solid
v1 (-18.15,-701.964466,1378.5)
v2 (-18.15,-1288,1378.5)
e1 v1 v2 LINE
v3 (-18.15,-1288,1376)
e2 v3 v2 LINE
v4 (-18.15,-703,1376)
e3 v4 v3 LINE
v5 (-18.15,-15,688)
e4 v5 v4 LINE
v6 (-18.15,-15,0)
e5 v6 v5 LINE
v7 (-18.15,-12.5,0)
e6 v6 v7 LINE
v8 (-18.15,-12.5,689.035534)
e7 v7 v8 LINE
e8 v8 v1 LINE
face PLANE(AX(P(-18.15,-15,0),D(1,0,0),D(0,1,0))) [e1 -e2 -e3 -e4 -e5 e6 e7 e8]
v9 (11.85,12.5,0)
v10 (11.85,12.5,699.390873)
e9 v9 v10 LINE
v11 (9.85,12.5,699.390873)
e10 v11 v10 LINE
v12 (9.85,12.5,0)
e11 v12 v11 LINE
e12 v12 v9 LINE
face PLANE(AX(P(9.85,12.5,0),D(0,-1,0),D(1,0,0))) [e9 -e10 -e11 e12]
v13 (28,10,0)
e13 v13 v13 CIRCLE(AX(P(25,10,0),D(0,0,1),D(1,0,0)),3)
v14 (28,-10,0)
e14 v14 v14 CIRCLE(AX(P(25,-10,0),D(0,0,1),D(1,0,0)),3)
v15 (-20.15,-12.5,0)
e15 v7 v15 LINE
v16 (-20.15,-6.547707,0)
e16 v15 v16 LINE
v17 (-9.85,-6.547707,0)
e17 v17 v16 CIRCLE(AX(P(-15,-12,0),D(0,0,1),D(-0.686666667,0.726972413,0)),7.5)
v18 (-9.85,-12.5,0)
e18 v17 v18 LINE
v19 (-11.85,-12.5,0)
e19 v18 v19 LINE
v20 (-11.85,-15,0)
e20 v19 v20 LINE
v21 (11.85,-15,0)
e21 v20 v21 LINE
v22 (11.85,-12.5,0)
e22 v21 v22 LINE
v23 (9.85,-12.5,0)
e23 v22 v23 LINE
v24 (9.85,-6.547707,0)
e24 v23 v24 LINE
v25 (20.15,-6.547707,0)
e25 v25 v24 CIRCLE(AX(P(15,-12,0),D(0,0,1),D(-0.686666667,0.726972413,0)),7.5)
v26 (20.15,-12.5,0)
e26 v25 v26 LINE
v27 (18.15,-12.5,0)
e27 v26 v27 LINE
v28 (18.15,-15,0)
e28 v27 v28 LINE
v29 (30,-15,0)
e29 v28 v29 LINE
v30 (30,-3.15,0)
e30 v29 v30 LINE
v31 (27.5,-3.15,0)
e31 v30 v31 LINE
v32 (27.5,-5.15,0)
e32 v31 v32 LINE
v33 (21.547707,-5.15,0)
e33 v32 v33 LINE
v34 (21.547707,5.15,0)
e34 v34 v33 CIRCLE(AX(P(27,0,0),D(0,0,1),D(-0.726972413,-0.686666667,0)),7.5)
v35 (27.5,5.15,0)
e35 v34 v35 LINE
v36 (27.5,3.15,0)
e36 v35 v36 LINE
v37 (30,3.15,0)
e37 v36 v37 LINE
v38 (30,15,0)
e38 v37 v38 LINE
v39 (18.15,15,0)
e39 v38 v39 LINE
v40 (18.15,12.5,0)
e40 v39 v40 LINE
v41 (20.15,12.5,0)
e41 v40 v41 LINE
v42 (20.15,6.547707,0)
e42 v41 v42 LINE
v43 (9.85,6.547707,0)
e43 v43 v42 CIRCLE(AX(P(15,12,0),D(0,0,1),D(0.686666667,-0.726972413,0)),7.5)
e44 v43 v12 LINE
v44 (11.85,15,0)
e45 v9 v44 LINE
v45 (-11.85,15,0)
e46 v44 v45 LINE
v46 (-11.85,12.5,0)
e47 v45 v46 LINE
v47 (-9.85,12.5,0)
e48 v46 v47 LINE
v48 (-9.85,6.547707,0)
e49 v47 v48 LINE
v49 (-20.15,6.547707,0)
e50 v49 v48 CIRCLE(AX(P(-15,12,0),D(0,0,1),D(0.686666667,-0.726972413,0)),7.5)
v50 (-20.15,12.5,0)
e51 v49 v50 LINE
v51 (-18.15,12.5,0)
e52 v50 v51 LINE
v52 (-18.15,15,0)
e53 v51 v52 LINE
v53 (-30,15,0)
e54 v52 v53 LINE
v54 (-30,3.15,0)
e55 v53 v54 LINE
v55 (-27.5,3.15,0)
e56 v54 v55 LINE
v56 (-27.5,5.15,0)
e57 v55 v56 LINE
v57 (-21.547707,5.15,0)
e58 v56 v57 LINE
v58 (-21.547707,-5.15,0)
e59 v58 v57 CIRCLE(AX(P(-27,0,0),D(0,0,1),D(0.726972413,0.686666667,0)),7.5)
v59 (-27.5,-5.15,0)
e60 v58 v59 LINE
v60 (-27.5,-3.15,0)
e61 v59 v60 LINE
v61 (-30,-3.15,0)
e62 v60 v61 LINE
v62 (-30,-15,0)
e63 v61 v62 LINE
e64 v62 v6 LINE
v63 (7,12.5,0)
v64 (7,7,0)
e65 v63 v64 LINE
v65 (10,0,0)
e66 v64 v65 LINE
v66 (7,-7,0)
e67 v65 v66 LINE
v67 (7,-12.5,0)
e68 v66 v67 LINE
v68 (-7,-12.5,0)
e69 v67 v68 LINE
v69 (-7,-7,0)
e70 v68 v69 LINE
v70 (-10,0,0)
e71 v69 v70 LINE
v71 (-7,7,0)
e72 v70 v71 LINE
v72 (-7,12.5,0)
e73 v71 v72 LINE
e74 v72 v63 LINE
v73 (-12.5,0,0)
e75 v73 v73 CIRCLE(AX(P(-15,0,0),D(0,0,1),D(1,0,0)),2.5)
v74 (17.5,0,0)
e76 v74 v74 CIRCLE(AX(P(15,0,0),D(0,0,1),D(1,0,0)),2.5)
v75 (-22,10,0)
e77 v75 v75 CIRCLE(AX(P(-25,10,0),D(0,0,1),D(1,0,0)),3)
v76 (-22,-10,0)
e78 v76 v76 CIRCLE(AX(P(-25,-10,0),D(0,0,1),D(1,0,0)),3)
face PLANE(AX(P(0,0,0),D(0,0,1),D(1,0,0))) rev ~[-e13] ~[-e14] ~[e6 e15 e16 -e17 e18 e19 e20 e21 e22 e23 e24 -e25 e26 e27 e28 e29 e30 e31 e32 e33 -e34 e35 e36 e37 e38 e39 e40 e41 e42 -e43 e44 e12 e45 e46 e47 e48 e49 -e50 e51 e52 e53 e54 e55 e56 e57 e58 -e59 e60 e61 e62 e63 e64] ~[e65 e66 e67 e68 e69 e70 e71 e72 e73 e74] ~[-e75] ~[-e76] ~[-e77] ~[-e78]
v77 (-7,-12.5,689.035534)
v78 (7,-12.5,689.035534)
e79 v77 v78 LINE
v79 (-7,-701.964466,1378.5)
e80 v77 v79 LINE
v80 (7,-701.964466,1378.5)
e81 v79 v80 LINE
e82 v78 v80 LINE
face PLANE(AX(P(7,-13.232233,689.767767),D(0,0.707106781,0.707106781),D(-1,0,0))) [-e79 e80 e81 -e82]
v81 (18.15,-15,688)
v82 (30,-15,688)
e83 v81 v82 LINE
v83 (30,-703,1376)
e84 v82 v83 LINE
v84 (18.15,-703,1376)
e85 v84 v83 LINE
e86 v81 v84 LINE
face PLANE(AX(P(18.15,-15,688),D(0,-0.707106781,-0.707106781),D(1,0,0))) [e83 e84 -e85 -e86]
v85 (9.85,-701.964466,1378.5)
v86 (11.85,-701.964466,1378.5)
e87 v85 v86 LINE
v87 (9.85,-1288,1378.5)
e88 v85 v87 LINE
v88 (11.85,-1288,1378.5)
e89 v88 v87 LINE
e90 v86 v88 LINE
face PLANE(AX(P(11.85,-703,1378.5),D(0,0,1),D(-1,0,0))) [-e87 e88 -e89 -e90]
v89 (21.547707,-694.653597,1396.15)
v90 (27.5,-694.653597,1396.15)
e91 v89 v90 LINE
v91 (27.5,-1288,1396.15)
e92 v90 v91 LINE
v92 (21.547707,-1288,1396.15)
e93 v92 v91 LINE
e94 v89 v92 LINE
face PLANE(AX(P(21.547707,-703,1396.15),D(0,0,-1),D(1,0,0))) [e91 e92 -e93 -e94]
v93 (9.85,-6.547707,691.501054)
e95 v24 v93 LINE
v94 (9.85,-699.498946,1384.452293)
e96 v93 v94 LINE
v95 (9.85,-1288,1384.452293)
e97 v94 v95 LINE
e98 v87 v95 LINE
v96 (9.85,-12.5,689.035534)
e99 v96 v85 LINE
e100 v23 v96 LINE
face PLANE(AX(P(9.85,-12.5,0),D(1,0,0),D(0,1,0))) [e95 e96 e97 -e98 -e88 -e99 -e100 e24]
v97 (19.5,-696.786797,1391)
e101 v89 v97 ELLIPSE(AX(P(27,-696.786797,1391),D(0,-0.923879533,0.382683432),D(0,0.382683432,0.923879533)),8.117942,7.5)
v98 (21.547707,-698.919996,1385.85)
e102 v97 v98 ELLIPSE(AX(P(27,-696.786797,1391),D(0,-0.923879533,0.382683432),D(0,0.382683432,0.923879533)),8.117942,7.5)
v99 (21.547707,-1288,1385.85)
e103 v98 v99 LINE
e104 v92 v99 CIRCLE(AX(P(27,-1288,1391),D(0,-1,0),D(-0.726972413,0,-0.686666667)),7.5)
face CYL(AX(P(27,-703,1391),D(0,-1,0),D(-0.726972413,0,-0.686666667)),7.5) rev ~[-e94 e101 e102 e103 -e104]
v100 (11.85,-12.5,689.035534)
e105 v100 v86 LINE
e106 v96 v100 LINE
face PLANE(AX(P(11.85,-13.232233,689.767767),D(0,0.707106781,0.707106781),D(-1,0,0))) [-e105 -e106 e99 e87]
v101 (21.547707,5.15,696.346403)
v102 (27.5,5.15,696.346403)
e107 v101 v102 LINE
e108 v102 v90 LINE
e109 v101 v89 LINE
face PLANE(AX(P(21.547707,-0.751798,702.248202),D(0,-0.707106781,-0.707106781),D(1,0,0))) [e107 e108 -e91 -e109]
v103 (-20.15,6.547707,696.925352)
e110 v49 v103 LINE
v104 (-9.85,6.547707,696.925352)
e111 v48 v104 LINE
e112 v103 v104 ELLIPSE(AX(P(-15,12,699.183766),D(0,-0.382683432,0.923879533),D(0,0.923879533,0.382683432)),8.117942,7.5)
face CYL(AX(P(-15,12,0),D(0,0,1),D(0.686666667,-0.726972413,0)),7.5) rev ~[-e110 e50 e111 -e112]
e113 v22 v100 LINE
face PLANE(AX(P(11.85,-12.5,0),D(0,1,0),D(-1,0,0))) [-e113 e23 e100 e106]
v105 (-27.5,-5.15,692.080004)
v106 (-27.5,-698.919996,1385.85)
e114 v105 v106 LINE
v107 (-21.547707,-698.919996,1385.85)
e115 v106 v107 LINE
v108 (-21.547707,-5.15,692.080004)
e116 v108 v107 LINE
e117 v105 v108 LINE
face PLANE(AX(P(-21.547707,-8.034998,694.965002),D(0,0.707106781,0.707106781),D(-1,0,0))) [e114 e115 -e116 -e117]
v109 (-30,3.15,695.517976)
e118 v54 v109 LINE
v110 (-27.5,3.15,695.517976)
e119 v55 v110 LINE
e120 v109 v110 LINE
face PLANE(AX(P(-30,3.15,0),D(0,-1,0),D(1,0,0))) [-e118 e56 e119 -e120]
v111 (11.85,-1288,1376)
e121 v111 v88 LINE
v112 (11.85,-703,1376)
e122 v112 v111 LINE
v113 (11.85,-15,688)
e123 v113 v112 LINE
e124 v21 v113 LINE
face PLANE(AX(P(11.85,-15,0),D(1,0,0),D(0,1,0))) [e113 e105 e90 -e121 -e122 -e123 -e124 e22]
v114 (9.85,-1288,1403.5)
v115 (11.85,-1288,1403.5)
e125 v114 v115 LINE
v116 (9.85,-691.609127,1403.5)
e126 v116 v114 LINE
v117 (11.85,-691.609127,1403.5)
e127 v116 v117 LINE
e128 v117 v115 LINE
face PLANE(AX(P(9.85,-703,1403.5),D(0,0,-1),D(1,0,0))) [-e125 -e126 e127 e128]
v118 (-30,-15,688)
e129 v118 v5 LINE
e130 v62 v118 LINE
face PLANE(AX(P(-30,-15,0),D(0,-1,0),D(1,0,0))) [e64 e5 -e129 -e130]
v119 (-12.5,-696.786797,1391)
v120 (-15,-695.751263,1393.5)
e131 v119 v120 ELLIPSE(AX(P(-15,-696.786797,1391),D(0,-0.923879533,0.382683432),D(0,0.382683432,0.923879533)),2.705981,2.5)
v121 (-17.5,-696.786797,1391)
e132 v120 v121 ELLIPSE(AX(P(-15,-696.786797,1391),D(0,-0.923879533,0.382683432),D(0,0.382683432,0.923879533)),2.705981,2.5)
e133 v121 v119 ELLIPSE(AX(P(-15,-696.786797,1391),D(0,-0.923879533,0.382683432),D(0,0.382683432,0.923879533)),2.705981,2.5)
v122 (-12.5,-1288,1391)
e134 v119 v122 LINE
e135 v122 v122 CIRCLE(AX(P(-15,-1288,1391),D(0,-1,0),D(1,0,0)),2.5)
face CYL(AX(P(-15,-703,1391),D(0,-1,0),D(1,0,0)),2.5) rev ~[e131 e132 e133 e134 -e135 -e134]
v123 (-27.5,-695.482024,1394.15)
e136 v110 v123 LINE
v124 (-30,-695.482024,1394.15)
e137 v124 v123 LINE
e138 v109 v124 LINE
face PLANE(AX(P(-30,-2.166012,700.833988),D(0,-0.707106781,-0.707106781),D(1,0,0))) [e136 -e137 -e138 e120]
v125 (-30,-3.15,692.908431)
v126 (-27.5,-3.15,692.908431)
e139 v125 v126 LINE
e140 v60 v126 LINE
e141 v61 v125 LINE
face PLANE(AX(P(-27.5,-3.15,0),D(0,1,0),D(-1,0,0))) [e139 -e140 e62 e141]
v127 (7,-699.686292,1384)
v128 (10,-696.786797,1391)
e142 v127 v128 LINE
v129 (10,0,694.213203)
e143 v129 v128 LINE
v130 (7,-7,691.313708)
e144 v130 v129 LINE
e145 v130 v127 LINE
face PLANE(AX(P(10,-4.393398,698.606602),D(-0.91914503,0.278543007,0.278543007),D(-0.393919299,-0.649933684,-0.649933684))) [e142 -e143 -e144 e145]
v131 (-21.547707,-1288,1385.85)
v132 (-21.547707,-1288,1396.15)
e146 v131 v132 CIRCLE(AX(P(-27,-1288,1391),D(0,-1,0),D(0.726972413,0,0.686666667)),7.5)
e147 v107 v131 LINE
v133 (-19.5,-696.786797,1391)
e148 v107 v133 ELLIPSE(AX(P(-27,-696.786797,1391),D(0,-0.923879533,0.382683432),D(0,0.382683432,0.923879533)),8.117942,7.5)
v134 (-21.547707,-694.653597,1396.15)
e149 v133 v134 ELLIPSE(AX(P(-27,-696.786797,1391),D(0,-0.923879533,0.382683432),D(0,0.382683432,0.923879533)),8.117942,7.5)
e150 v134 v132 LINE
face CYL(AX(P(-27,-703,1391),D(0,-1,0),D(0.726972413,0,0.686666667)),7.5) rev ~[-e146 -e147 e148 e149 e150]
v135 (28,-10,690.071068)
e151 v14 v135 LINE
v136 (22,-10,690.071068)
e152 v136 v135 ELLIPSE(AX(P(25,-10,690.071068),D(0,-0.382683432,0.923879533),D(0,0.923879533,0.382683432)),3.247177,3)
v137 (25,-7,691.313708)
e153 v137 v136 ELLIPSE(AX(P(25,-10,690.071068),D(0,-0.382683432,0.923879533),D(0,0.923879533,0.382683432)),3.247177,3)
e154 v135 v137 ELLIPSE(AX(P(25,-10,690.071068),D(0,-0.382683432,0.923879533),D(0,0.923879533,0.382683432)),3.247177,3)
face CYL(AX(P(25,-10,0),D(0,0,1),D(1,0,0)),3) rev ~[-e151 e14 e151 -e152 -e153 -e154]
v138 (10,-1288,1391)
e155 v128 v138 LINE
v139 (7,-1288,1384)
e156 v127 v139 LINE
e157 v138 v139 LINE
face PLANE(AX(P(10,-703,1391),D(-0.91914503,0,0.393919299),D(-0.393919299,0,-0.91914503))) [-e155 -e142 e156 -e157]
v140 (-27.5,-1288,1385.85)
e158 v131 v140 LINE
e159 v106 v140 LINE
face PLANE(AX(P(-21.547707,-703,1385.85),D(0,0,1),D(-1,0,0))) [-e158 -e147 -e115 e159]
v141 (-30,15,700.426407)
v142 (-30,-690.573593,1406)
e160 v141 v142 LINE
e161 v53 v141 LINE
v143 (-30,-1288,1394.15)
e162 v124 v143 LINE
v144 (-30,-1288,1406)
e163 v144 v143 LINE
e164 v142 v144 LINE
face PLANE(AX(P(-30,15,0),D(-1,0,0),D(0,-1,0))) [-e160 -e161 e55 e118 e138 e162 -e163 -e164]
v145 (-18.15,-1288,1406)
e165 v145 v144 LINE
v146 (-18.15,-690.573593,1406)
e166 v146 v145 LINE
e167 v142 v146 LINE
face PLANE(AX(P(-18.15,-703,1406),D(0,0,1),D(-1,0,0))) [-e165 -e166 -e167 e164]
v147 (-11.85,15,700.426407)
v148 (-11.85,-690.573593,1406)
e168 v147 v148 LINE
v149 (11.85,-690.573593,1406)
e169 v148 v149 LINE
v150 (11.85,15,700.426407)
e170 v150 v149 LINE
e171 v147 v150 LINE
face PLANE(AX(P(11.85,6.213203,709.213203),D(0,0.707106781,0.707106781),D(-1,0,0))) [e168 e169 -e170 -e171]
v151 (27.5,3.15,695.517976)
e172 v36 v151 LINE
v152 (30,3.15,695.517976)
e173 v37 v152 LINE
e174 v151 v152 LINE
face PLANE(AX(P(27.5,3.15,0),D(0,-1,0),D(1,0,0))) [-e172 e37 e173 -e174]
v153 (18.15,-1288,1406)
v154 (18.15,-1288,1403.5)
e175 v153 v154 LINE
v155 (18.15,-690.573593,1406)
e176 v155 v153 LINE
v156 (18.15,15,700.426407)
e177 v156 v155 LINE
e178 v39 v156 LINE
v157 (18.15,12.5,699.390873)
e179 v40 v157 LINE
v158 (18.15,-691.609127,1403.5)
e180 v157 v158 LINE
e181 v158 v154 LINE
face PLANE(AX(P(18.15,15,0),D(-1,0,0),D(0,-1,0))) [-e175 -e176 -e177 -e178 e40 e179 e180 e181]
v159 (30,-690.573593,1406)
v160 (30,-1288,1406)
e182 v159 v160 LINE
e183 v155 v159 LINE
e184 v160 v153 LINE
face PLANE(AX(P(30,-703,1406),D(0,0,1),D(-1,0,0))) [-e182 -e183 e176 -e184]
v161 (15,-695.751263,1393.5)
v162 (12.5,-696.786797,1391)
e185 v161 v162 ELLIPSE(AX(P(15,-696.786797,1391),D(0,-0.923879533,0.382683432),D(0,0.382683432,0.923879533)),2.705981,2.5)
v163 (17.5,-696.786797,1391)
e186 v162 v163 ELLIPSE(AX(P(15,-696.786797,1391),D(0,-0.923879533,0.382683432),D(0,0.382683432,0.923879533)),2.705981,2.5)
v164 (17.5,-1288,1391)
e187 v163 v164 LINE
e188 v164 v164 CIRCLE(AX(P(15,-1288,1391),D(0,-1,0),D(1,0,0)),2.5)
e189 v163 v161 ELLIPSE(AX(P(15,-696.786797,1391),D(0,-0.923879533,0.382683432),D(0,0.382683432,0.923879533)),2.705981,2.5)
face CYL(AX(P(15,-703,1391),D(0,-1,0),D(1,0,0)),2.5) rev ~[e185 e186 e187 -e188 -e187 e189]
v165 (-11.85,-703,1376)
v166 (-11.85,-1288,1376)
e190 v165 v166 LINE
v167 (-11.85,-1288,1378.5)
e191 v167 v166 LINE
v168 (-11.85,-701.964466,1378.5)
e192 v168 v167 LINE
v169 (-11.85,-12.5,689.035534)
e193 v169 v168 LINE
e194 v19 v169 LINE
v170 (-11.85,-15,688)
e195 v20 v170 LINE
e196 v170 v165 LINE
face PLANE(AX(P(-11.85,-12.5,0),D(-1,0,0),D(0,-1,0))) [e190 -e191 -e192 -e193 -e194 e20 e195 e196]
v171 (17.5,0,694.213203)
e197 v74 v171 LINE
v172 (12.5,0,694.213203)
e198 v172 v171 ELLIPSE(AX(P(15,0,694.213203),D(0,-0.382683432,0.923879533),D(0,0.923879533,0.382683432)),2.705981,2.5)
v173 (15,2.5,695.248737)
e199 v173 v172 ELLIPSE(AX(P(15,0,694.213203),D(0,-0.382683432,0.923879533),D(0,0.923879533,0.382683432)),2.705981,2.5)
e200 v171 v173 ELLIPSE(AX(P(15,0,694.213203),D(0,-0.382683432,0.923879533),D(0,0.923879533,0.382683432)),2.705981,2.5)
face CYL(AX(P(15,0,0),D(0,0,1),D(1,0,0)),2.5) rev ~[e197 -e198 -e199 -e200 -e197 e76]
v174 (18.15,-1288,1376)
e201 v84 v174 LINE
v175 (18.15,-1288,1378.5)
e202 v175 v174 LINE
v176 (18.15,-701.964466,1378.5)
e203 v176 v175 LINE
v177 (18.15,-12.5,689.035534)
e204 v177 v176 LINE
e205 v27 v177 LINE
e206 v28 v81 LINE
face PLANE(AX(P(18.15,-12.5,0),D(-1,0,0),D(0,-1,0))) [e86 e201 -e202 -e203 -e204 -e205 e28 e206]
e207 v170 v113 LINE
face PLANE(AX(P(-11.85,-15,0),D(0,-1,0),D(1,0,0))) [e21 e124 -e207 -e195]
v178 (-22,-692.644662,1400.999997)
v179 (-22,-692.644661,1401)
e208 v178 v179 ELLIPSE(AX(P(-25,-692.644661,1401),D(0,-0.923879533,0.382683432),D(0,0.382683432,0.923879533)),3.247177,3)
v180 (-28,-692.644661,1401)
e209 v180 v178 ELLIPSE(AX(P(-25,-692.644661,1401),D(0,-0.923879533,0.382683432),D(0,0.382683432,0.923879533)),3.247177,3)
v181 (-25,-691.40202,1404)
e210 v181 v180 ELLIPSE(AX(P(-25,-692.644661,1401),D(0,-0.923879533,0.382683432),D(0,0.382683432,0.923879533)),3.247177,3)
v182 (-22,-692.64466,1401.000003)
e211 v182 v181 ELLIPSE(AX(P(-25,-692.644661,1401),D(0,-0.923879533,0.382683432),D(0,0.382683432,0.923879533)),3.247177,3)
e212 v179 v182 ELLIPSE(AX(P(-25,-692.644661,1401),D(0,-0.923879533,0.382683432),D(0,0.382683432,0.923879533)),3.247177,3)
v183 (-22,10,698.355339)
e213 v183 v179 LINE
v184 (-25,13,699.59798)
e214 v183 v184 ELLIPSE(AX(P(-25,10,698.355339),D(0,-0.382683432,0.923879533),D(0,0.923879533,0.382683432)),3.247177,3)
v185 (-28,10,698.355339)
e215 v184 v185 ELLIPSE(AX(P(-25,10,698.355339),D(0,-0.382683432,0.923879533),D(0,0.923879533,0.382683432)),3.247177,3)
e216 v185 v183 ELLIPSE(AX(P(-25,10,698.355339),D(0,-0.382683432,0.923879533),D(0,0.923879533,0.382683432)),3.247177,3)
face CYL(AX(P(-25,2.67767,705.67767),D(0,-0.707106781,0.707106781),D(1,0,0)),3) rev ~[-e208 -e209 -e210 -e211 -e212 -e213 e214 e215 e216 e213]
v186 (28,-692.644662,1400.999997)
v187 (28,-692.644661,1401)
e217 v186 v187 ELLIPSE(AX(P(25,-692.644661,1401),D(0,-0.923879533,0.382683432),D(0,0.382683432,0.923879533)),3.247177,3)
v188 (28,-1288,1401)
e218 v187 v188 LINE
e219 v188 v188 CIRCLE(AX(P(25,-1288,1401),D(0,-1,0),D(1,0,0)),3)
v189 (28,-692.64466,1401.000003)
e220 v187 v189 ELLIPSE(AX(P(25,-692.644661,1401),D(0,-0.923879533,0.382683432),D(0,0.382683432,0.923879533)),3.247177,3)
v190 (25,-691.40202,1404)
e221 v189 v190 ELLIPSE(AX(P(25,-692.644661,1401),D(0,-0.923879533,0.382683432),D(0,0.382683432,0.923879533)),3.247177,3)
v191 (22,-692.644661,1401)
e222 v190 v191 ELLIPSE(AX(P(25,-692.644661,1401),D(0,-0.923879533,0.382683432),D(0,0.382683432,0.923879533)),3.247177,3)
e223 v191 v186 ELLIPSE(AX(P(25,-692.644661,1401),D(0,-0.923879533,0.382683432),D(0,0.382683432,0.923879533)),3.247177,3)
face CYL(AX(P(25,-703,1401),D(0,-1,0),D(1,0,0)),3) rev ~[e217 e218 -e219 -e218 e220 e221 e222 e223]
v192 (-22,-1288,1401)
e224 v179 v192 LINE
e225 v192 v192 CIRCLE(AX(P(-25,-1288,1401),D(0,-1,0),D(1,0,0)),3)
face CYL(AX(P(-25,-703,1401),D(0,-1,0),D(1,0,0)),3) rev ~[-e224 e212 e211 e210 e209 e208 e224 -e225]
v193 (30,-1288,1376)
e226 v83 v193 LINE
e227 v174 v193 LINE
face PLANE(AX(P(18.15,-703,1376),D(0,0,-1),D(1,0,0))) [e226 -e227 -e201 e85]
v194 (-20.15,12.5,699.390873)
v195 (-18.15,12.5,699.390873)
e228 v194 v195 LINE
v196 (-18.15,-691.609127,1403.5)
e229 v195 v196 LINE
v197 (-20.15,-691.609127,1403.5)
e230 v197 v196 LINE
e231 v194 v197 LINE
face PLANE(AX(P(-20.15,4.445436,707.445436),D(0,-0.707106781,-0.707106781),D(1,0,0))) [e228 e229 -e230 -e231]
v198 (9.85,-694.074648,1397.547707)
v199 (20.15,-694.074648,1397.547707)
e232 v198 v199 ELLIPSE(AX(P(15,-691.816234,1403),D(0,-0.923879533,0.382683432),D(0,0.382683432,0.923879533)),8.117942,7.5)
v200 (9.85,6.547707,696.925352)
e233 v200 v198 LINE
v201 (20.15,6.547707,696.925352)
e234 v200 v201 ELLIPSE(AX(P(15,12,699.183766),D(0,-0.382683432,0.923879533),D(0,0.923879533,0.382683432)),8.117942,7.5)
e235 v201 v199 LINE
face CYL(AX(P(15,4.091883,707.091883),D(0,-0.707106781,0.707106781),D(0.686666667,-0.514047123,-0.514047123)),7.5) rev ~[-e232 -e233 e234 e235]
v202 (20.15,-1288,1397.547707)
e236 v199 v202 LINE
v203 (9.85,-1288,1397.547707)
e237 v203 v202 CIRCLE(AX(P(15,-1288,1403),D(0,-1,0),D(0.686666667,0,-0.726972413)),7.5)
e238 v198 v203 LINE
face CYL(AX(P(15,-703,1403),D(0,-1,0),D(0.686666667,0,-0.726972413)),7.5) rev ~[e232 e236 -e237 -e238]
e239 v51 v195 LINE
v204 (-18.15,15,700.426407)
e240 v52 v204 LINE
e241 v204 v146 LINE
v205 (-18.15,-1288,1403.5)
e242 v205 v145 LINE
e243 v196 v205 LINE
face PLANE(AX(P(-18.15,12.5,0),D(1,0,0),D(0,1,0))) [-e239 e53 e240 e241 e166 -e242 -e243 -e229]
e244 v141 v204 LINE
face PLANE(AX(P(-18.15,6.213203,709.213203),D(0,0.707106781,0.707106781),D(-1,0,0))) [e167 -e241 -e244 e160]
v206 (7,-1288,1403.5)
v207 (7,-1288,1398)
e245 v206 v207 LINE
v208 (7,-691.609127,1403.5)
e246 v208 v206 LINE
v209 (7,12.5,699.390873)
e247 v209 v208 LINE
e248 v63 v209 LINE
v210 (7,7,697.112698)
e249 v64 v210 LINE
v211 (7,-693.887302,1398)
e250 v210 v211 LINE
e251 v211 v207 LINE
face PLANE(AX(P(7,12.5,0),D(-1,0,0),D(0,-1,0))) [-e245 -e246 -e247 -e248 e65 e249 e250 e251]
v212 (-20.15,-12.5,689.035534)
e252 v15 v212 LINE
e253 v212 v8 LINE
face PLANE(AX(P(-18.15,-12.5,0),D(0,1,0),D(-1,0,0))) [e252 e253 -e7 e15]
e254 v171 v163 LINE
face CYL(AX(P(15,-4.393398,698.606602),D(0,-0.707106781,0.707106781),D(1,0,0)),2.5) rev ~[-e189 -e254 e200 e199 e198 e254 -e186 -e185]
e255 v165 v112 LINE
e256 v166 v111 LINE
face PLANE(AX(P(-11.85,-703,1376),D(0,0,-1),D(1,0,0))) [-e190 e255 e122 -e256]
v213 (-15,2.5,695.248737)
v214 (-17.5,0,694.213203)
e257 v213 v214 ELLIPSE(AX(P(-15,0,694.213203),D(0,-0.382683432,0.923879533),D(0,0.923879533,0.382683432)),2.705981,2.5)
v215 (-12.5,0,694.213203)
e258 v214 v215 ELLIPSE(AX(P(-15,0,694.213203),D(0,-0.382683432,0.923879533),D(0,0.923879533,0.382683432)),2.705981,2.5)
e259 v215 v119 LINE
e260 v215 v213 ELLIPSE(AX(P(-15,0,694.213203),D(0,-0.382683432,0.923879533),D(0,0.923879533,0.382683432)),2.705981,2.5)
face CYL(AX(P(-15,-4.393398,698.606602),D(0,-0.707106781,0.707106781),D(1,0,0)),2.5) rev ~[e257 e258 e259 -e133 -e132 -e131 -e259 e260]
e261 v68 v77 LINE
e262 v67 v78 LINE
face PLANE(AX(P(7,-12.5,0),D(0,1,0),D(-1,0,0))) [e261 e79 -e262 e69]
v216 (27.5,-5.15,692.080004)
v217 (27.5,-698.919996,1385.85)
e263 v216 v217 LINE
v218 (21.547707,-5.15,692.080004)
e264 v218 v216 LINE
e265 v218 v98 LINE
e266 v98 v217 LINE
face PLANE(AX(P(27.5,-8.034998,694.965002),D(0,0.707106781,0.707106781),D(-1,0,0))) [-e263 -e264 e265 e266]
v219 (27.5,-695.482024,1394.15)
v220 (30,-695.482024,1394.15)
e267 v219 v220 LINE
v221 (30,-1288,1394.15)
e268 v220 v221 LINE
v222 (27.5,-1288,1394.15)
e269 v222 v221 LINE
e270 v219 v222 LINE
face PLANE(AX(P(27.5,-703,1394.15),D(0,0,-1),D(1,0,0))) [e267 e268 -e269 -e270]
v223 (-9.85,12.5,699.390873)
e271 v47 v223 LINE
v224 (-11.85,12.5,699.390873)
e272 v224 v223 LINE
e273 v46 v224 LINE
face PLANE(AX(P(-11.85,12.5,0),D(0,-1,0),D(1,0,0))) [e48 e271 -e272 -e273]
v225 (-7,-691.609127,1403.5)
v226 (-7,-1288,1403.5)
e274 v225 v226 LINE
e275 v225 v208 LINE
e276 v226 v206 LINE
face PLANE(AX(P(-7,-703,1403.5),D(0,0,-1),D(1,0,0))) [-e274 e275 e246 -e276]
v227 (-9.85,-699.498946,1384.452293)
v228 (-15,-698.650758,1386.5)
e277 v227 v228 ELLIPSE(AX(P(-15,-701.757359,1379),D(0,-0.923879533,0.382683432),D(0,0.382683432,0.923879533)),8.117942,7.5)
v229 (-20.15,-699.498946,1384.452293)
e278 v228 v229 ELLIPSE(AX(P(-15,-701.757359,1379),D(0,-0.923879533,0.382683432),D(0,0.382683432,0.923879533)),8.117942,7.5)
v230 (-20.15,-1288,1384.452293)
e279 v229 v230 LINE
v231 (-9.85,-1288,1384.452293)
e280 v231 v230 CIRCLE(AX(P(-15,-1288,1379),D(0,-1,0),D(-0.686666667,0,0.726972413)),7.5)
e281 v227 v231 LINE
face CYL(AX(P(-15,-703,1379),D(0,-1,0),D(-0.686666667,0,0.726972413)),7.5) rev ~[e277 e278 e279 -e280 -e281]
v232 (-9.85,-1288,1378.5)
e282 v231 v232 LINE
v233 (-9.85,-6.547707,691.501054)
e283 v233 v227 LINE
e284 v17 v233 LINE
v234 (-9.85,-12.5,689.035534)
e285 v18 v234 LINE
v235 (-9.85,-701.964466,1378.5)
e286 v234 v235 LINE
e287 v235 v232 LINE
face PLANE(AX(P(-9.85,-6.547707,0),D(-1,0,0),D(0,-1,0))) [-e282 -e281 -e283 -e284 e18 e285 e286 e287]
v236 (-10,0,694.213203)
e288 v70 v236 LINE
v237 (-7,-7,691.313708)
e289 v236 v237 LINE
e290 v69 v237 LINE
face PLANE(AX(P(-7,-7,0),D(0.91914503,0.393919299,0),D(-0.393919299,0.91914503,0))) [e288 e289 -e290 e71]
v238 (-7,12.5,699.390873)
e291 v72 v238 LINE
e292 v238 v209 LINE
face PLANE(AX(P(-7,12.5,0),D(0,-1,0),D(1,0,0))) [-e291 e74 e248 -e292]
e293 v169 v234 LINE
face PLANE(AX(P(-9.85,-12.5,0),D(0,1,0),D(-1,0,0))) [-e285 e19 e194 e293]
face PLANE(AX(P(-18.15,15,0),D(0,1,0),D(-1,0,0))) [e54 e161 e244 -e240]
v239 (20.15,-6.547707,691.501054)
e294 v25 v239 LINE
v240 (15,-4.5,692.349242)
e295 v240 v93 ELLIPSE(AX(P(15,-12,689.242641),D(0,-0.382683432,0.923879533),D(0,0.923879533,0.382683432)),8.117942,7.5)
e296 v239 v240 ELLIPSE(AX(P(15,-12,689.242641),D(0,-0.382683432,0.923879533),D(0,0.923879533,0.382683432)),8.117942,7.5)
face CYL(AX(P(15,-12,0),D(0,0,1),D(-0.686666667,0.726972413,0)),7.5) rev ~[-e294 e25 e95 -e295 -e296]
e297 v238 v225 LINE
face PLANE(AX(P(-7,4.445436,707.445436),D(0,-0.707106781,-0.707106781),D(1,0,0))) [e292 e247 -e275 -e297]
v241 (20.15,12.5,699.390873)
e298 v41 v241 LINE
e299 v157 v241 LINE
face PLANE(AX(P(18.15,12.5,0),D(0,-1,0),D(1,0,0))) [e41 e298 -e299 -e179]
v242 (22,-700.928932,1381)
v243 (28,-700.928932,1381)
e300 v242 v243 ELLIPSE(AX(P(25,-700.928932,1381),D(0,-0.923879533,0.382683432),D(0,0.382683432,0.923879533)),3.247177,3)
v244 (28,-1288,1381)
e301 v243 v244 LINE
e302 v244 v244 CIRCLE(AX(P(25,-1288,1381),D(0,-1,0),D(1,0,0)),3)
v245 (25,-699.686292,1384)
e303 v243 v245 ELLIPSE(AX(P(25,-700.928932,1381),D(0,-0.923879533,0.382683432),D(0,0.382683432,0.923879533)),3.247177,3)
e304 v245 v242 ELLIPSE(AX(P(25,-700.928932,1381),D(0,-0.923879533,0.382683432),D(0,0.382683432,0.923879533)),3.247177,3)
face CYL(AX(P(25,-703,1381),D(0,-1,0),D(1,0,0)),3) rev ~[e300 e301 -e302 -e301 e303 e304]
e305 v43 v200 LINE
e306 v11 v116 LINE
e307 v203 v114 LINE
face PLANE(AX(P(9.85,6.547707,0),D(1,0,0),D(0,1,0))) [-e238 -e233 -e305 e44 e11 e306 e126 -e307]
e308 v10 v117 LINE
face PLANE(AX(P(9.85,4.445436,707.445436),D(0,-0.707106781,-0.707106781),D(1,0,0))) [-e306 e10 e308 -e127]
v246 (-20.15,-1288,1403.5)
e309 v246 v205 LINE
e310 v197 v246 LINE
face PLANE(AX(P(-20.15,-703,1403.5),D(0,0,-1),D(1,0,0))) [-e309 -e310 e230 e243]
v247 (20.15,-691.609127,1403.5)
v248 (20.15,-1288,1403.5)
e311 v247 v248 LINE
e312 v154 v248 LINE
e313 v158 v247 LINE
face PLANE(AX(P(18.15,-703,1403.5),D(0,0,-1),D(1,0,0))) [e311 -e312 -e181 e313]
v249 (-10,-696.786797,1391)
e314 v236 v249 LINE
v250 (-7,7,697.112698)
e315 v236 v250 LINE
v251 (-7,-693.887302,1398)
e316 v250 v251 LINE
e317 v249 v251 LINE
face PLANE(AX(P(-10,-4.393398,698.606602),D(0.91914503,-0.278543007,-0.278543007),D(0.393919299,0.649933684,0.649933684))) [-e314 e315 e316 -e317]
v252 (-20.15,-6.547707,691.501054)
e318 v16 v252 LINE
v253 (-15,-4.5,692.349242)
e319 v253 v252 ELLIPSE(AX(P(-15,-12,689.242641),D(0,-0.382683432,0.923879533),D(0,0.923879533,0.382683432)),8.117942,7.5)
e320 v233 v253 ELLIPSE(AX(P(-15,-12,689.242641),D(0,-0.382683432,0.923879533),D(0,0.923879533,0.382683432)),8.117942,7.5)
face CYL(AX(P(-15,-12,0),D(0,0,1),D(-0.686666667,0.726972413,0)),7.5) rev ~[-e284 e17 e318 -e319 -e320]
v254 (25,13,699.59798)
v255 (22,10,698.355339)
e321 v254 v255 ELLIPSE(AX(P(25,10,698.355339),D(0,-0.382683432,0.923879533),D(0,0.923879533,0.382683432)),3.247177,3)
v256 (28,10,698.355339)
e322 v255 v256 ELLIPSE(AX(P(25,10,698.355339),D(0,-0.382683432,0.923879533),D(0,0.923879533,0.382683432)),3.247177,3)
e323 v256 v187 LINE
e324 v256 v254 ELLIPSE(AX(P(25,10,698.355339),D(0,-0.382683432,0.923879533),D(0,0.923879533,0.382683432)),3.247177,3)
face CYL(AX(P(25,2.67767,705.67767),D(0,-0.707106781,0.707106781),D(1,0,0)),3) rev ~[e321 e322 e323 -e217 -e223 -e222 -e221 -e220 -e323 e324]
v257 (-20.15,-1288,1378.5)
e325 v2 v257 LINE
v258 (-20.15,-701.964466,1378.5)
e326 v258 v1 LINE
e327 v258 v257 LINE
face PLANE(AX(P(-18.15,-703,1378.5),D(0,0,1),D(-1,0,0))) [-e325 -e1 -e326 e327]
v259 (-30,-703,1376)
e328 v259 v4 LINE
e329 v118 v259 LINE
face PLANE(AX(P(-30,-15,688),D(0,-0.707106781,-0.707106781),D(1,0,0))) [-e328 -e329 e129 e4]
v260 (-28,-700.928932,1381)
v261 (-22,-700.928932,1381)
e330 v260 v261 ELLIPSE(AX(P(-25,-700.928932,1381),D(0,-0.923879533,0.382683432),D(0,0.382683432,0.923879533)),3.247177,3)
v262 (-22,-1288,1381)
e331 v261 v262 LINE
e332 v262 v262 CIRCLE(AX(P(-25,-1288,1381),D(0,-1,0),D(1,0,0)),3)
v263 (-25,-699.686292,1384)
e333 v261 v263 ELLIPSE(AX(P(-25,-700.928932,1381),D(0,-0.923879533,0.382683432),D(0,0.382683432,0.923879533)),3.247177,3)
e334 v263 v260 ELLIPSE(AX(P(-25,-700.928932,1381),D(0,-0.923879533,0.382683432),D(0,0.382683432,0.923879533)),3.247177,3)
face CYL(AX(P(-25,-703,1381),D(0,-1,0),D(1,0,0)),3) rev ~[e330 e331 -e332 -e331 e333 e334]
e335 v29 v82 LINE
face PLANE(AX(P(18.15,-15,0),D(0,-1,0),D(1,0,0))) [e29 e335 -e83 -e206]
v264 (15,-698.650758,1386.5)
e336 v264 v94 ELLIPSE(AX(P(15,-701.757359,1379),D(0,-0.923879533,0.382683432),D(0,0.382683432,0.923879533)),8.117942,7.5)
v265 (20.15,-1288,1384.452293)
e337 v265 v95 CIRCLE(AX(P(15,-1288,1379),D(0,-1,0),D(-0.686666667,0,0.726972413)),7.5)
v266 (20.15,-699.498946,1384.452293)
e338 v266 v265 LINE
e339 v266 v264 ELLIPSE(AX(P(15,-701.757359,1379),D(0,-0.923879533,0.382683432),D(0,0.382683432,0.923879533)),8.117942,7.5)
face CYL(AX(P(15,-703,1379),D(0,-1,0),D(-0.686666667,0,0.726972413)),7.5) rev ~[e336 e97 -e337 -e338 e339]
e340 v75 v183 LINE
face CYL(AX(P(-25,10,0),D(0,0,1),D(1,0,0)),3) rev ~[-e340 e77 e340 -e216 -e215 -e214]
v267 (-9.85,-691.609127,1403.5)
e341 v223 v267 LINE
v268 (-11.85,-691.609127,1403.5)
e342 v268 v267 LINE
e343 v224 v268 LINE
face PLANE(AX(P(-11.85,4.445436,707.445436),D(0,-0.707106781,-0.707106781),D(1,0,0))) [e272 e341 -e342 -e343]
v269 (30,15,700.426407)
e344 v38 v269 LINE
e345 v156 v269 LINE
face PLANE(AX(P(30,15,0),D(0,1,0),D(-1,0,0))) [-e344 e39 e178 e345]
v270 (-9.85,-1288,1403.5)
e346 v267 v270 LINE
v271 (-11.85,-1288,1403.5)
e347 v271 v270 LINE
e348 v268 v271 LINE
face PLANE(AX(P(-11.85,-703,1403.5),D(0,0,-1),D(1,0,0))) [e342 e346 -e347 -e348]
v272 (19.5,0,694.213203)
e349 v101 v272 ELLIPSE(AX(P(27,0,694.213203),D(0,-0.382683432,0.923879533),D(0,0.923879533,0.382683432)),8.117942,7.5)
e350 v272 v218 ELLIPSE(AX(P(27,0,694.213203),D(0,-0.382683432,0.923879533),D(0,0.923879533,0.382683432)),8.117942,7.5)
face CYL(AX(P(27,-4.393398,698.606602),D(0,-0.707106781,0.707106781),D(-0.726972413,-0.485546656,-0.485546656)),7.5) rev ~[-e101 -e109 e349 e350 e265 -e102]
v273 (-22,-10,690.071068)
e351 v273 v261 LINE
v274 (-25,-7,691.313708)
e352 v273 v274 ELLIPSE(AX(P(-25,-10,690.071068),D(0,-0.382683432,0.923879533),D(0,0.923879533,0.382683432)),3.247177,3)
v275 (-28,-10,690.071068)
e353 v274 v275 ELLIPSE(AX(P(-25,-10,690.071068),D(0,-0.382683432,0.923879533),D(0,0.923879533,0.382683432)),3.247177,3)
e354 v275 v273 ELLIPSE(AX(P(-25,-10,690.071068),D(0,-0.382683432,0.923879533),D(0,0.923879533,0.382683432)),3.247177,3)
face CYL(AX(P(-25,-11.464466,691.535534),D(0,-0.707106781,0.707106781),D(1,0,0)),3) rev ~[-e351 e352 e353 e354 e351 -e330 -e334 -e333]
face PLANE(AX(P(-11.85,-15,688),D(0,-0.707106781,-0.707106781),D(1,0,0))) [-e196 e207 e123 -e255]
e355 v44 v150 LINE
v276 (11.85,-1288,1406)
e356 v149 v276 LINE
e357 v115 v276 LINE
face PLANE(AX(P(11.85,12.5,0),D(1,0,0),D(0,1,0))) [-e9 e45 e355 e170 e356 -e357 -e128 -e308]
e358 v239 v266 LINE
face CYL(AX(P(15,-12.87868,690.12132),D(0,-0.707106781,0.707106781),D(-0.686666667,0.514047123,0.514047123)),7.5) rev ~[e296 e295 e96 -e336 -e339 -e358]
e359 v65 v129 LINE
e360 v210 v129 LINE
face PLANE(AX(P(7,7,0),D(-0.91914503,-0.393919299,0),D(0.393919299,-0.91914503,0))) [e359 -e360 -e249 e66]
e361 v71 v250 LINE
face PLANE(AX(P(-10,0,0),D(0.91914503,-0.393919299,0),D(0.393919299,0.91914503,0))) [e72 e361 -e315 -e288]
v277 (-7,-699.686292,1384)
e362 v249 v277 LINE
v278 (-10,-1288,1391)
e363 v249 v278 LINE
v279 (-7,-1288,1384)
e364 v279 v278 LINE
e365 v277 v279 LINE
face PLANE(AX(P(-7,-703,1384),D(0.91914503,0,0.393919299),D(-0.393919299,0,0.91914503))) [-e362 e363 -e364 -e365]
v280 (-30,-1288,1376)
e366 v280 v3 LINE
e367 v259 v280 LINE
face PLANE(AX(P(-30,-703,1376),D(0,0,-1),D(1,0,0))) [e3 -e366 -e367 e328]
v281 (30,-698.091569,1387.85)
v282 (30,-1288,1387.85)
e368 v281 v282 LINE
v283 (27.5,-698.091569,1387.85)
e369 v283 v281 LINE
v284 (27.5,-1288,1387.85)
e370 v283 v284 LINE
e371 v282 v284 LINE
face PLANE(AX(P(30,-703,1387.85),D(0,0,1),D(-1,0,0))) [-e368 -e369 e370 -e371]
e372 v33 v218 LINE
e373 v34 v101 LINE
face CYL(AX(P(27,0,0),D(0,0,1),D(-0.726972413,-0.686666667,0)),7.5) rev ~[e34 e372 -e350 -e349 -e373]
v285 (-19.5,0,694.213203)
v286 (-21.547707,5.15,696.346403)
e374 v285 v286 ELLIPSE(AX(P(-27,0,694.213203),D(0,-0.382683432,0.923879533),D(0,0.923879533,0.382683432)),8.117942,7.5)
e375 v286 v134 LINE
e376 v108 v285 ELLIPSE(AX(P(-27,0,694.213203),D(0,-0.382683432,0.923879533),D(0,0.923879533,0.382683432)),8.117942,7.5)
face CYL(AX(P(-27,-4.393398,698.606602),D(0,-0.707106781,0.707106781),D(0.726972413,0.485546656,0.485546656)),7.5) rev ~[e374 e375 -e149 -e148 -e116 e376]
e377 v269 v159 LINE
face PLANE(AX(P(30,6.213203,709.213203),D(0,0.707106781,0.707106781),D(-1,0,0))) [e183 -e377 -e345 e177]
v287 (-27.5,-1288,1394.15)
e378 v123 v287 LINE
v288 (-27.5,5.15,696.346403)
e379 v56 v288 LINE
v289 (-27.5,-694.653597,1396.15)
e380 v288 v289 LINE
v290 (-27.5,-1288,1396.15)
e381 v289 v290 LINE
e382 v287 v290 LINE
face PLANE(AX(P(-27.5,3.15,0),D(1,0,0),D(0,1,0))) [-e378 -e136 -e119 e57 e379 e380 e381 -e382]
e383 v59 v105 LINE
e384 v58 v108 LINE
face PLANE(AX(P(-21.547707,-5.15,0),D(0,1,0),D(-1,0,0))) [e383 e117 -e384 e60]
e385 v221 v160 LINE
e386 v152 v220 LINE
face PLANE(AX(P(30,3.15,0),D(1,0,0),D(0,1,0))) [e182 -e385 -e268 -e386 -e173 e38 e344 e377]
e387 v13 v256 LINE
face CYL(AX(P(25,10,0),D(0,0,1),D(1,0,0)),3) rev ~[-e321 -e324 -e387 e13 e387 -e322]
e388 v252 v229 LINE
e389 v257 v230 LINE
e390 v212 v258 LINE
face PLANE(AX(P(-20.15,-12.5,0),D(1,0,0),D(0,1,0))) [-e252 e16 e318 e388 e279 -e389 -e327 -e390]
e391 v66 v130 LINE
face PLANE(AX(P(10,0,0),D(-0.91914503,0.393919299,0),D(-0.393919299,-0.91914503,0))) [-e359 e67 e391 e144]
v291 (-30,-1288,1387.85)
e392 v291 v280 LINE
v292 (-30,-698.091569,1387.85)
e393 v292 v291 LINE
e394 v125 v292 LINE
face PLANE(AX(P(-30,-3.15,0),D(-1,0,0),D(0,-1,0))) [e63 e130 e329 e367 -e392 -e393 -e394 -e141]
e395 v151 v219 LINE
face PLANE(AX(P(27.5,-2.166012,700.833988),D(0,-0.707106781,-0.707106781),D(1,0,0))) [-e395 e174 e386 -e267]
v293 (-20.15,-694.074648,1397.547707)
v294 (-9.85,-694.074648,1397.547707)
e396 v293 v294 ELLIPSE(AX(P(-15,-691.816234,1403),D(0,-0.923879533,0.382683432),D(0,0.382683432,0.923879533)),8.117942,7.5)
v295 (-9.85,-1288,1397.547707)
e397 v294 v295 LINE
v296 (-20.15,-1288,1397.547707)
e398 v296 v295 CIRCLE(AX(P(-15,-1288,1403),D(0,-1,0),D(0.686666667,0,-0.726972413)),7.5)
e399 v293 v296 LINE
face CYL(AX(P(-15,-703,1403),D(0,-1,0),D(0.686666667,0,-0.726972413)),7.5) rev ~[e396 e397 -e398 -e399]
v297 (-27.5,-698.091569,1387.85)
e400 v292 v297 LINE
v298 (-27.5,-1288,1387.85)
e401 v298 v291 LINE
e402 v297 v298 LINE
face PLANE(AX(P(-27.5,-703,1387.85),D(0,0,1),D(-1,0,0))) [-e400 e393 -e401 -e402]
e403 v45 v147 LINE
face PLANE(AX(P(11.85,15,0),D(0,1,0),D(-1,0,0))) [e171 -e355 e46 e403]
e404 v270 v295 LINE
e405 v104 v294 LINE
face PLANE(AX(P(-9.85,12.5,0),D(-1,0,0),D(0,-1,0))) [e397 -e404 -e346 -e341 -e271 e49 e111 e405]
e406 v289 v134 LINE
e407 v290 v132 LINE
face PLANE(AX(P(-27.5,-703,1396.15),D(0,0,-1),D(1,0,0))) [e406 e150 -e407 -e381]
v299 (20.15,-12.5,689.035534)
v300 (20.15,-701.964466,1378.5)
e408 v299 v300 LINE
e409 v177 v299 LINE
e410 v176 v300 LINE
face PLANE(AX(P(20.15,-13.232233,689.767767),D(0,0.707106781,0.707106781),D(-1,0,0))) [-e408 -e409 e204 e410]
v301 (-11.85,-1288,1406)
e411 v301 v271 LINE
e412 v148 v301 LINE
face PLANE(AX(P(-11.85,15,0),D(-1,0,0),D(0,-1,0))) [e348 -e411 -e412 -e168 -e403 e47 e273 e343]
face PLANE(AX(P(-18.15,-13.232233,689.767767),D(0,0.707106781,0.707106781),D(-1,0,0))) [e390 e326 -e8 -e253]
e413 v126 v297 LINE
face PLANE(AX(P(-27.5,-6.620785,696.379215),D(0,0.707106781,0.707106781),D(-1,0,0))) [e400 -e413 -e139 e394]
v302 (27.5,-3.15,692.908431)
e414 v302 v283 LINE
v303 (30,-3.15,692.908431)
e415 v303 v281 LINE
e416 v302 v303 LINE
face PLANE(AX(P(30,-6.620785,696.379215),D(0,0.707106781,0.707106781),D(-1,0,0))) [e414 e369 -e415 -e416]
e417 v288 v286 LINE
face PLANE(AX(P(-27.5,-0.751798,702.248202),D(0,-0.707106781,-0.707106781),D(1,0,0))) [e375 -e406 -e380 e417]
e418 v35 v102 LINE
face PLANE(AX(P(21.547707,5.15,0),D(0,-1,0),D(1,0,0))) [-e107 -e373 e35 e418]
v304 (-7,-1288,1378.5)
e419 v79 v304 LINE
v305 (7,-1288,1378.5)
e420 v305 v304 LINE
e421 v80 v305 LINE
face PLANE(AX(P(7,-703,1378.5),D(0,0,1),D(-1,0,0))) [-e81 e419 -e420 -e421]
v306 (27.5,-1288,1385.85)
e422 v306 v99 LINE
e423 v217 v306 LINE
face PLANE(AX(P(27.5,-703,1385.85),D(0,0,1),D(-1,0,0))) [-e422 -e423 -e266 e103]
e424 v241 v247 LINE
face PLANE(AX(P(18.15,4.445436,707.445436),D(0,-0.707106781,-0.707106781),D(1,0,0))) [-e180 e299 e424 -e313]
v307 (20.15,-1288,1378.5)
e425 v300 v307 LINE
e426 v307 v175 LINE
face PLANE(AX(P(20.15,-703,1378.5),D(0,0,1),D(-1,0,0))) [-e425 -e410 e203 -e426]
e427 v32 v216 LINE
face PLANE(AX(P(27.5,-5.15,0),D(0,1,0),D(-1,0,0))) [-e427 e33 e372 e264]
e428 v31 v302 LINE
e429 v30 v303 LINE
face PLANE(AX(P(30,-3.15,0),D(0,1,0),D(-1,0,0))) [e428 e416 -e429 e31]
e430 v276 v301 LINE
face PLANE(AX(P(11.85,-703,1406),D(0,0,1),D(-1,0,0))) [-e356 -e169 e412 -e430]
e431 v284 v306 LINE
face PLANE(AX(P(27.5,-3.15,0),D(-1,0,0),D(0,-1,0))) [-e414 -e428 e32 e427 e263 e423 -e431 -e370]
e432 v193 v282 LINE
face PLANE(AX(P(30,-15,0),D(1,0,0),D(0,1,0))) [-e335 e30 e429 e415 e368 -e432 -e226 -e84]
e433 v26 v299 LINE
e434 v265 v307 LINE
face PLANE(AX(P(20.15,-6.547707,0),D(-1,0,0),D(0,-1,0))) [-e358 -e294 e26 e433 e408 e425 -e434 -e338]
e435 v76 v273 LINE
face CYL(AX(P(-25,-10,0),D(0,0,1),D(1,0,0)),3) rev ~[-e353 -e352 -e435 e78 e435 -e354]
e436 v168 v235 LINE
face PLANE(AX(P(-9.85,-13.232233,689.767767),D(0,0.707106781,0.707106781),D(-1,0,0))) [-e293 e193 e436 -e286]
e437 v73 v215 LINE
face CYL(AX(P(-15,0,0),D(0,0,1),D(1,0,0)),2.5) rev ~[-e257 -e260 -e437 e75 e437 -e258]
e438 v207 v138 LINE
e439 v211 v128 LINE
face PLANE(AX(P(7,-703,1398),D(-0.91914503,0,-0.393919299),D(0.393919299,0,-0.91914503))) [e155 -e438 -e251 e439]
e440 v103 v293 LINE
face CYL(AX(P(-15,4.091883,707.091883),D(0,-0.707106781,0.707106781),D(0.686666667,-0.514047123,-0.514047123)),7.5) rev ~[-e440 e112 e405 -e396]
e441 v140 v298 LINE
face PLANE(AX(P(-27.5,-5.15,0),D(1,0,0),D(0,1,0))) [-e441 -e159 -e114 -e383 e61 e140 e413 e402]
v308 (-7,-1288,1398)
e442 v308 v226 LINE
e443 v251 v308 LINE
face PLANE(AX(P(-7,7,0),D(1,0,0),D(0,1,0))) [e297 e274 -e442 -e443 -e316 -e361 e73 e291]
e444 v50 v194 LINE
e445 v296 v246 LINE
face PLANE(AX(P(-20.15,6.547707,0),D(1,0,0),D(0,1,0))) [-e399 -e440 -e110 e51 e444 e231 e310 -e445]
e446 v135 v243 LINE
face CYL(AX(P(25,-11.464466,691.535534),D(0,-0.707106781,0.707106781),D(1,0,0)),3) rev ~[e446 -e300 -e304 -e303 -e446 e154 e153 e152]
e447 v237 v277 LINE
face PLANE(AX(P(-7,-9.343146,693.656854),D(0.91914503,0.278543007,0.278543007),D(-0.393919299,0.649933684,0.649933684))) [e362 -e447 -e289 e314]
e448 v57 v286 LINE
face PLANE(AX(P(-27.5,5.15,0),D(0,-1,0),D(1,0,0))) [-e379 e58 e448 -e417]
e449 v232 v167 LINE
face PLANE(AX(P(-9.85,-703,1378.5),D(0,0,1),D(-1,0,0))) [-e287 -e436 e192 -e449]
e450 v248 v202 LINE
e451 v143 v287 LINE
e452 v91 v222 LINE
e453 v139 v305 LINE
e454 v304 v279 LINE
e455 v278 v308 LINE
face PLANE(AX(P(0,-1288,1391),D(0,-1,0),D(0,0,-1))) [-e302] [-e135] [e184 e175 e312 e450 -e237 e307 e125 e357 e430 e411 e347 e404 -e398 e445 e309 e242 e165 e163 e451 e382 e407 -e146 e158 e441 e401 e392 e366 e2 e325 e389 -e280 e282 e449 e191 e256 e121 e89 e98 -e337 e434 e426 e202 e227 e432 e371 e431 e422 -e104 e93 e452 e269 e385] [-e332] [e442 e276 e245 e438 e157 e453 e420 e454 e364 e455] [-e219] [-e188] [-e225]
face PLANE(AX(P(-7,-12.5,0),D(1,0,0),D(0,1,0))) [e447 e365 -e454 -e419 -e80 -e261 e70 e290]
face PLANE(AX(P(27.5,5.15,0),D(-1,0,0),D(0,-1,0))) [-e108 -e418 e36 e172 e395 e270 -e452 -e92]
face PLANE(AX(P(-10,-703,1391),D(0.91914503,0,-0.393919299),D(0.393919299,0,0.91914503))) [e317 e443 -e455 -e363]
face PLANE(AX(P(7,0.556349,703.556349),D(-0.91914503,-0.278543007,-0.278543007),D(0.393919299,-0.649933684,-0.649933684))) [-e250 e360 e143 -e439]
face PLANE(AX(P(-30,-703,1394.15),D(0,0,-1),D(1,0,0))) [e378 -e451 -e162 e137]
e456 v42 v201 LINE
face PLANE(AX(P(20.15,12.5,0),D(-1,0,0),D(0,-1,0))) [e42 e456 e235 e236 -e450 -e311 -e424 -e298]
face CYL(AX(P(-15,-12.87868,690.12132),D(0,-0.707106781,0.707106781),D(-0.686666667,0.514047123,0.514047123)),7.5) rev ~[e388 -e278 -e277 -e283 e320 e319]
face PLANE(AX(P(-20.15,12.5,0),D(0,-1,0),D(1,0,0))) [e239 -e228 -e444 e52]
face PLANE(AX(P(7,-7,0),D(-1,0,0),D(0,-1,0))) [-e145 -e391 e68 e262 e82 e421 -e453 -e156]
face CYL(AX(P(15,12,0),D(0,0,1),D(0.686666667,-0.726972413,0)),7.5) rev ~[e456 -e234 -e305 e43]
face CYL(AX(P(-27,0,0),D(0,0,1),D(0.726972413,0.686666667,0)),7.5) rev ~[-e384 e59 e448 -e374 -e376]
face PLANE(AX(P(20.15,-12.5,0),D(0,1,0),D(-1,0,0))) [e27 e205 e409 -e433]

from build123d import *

# Parameters (mm, degrees)
F0_R   = 3
F0_R_2 = 2.5


with BuildPart() as f2:
    # F2: sweep along a path in F1
    with BuildLine(Plane.YZ) as f2_path:
        Line((-15, 0), (-15, 688))
        Line((-15, 688), (-703, 1376))
        Line((-703, 1376), (-1288, 1376))
    # F0 (on Top) → F2 (sweep)
    with BuildSketch(Plane.XY):
        with BuildLine():
            Line((18.15, -15), (30, -15))
            Line((30, -15), (30, -3.15))
            Line((30, -3.15), (27.5, -3.15))
            Line((27.5, -3.15), (27.5, -5.15))
            Line((27.5, -5.15), (21.5477069044, -5.15))
            ThreePointArc((21.5477069044, -5.15), (19.5, 0), (21.5477069044, 5.15))
            Line((21.5477069044, 5.15), (27.5, 5.15))
            Line((27.5, 5.15), (27.5, 3.15))
            Line((27.5, 3.15), (30, 3.15))
            Line((30, 3.15), (30, 15))
            Line((30, 15), (18.15, 15))
            Line((18.15, 15), (18.15, 12.5))
            Line((18.15, 12.5), (20.15, 12.5))
            Line((20.15, 12.5), (20.15, 6.5477069044))
            ThreePointArc((20.15, 6.5477069044), (15, 4.5), (9.85, 6.5477069044))
            Line((9.85, 6.5477069044), (9.85, 12.5))
            Line((9.85, 12.5), (11.85, 12.5))
            Line((11.85, 12.5), (11.85, 15))
            Line((11.85, 15), (-11.85, 15))
            Line((-11.85, 15), (-11.85, 12.5))
            Line((-11.85, 12.5), (-9.85, 12.5))
            Line((-9.85, 12.5), (-9.85, 6.5477069044))
            ThreePointArc((-9.85, 6.5477069044), (-15, 4.5), (-20.15, 6.5477069044))
            Line((-20.15, 6.5477069044), (-20.15, 12.5))
            Line((-20.15, 12.5), (-18.15, 12.5))
            Line((-18.15, 12.5), (-18.15, 15))
            Line((-18.15, 15), (-30, 15))
            Line((-30, 15), (-30, 3.15))
            Line((-30, 3.15), (-27.5, 3.15))
            Line((-27.5, 3.15), (-27.5, 5.15))
            Line((-27.5, 5.15), (-21.5477069044, 5.15))
            ThreePointArc((-21.5477069044, 5.15), (-19.5, 0), (-21.5477069044, -5.15))
            Line((-21.5477069044, -5.15), (-27.5, -5.15))
            Line((-27.5, -5.15), (-27.5, -3.15))
            Line((-27.5, -3.15), (-30, -3.15))
            Line((-30, -3.15), (-30, -15))
            Line((-30, -15), (-18.15, -15))
            Line((-18.15, -15), (-18.15, -12.5))
            Line((-18.15, -12.5), (-20.15, -12.5))
            Line((-20.15, -12.5), (-20.15, -6.5477069044))
            ThreePointArc((-20.15, -6.5477069044), (-15, -4.5), (-9.85, -6.5477069044))
            Line((-9.85, -6.5477069044), (-9.85, -12.5))
            Line((-9.85, -12.5), (-11.85, -12.5))
            Line((-11.85, -12.5), (-11.85, -15))
            Line((-11.85, -15), (11.85, -15))
            Line((11.85, -15), (11.85, -12.5))
            Line((11.85, -12.5), (9.85, -12.5))
            Line((9.85, -12.5), (9.85, -6.5477069044))
            ThreePointArc((9.85, -6.5477069044), (15, -4.5), (20.15, -6.5477069044))
            Line((20.15, -6.5477069044), (20.15, -12.5))
            Line((20.15, -12.5), (18.15, -12.5))
            Line((18.15, -12.5), (18.15, -15))
        make_face()
        with Locations((-25, -10)):
            Circle(F0_R, mode=Mode.SUBTRACT)
        with Locations((25, -10)):
            Circle(F0_R, mode=Mode.SUBTRACT)
        with Locations((-15, 0)):
            Circle(F0_R_2, mode=Mode.SUBTRACT)
        with Locations((-25, 10)):
            Circle(F0_R, mode=Mode.SUBTRACT)
        Polygon((-7, 7), (-7, 12.5), (0, 12.5), (7, 12.5), (7, 7), (10, 0), (7, -7), (7, -12.5), (0, -12.5), (-7, -12.5), (-7, -7), (-10, 0), align=None, mode=Mode.SUBTRACT)
        with Locations((15, 0)):
            Circle(F0_R_2, mode=Mode.SUBTRACT)
        with Locations((25, 10)):
            Circle(F0_R, mode=Mode.SUBTRACT)
    sweep(path=f2_path.line, transition=Transition.RIGHT)


solid = f2.part
